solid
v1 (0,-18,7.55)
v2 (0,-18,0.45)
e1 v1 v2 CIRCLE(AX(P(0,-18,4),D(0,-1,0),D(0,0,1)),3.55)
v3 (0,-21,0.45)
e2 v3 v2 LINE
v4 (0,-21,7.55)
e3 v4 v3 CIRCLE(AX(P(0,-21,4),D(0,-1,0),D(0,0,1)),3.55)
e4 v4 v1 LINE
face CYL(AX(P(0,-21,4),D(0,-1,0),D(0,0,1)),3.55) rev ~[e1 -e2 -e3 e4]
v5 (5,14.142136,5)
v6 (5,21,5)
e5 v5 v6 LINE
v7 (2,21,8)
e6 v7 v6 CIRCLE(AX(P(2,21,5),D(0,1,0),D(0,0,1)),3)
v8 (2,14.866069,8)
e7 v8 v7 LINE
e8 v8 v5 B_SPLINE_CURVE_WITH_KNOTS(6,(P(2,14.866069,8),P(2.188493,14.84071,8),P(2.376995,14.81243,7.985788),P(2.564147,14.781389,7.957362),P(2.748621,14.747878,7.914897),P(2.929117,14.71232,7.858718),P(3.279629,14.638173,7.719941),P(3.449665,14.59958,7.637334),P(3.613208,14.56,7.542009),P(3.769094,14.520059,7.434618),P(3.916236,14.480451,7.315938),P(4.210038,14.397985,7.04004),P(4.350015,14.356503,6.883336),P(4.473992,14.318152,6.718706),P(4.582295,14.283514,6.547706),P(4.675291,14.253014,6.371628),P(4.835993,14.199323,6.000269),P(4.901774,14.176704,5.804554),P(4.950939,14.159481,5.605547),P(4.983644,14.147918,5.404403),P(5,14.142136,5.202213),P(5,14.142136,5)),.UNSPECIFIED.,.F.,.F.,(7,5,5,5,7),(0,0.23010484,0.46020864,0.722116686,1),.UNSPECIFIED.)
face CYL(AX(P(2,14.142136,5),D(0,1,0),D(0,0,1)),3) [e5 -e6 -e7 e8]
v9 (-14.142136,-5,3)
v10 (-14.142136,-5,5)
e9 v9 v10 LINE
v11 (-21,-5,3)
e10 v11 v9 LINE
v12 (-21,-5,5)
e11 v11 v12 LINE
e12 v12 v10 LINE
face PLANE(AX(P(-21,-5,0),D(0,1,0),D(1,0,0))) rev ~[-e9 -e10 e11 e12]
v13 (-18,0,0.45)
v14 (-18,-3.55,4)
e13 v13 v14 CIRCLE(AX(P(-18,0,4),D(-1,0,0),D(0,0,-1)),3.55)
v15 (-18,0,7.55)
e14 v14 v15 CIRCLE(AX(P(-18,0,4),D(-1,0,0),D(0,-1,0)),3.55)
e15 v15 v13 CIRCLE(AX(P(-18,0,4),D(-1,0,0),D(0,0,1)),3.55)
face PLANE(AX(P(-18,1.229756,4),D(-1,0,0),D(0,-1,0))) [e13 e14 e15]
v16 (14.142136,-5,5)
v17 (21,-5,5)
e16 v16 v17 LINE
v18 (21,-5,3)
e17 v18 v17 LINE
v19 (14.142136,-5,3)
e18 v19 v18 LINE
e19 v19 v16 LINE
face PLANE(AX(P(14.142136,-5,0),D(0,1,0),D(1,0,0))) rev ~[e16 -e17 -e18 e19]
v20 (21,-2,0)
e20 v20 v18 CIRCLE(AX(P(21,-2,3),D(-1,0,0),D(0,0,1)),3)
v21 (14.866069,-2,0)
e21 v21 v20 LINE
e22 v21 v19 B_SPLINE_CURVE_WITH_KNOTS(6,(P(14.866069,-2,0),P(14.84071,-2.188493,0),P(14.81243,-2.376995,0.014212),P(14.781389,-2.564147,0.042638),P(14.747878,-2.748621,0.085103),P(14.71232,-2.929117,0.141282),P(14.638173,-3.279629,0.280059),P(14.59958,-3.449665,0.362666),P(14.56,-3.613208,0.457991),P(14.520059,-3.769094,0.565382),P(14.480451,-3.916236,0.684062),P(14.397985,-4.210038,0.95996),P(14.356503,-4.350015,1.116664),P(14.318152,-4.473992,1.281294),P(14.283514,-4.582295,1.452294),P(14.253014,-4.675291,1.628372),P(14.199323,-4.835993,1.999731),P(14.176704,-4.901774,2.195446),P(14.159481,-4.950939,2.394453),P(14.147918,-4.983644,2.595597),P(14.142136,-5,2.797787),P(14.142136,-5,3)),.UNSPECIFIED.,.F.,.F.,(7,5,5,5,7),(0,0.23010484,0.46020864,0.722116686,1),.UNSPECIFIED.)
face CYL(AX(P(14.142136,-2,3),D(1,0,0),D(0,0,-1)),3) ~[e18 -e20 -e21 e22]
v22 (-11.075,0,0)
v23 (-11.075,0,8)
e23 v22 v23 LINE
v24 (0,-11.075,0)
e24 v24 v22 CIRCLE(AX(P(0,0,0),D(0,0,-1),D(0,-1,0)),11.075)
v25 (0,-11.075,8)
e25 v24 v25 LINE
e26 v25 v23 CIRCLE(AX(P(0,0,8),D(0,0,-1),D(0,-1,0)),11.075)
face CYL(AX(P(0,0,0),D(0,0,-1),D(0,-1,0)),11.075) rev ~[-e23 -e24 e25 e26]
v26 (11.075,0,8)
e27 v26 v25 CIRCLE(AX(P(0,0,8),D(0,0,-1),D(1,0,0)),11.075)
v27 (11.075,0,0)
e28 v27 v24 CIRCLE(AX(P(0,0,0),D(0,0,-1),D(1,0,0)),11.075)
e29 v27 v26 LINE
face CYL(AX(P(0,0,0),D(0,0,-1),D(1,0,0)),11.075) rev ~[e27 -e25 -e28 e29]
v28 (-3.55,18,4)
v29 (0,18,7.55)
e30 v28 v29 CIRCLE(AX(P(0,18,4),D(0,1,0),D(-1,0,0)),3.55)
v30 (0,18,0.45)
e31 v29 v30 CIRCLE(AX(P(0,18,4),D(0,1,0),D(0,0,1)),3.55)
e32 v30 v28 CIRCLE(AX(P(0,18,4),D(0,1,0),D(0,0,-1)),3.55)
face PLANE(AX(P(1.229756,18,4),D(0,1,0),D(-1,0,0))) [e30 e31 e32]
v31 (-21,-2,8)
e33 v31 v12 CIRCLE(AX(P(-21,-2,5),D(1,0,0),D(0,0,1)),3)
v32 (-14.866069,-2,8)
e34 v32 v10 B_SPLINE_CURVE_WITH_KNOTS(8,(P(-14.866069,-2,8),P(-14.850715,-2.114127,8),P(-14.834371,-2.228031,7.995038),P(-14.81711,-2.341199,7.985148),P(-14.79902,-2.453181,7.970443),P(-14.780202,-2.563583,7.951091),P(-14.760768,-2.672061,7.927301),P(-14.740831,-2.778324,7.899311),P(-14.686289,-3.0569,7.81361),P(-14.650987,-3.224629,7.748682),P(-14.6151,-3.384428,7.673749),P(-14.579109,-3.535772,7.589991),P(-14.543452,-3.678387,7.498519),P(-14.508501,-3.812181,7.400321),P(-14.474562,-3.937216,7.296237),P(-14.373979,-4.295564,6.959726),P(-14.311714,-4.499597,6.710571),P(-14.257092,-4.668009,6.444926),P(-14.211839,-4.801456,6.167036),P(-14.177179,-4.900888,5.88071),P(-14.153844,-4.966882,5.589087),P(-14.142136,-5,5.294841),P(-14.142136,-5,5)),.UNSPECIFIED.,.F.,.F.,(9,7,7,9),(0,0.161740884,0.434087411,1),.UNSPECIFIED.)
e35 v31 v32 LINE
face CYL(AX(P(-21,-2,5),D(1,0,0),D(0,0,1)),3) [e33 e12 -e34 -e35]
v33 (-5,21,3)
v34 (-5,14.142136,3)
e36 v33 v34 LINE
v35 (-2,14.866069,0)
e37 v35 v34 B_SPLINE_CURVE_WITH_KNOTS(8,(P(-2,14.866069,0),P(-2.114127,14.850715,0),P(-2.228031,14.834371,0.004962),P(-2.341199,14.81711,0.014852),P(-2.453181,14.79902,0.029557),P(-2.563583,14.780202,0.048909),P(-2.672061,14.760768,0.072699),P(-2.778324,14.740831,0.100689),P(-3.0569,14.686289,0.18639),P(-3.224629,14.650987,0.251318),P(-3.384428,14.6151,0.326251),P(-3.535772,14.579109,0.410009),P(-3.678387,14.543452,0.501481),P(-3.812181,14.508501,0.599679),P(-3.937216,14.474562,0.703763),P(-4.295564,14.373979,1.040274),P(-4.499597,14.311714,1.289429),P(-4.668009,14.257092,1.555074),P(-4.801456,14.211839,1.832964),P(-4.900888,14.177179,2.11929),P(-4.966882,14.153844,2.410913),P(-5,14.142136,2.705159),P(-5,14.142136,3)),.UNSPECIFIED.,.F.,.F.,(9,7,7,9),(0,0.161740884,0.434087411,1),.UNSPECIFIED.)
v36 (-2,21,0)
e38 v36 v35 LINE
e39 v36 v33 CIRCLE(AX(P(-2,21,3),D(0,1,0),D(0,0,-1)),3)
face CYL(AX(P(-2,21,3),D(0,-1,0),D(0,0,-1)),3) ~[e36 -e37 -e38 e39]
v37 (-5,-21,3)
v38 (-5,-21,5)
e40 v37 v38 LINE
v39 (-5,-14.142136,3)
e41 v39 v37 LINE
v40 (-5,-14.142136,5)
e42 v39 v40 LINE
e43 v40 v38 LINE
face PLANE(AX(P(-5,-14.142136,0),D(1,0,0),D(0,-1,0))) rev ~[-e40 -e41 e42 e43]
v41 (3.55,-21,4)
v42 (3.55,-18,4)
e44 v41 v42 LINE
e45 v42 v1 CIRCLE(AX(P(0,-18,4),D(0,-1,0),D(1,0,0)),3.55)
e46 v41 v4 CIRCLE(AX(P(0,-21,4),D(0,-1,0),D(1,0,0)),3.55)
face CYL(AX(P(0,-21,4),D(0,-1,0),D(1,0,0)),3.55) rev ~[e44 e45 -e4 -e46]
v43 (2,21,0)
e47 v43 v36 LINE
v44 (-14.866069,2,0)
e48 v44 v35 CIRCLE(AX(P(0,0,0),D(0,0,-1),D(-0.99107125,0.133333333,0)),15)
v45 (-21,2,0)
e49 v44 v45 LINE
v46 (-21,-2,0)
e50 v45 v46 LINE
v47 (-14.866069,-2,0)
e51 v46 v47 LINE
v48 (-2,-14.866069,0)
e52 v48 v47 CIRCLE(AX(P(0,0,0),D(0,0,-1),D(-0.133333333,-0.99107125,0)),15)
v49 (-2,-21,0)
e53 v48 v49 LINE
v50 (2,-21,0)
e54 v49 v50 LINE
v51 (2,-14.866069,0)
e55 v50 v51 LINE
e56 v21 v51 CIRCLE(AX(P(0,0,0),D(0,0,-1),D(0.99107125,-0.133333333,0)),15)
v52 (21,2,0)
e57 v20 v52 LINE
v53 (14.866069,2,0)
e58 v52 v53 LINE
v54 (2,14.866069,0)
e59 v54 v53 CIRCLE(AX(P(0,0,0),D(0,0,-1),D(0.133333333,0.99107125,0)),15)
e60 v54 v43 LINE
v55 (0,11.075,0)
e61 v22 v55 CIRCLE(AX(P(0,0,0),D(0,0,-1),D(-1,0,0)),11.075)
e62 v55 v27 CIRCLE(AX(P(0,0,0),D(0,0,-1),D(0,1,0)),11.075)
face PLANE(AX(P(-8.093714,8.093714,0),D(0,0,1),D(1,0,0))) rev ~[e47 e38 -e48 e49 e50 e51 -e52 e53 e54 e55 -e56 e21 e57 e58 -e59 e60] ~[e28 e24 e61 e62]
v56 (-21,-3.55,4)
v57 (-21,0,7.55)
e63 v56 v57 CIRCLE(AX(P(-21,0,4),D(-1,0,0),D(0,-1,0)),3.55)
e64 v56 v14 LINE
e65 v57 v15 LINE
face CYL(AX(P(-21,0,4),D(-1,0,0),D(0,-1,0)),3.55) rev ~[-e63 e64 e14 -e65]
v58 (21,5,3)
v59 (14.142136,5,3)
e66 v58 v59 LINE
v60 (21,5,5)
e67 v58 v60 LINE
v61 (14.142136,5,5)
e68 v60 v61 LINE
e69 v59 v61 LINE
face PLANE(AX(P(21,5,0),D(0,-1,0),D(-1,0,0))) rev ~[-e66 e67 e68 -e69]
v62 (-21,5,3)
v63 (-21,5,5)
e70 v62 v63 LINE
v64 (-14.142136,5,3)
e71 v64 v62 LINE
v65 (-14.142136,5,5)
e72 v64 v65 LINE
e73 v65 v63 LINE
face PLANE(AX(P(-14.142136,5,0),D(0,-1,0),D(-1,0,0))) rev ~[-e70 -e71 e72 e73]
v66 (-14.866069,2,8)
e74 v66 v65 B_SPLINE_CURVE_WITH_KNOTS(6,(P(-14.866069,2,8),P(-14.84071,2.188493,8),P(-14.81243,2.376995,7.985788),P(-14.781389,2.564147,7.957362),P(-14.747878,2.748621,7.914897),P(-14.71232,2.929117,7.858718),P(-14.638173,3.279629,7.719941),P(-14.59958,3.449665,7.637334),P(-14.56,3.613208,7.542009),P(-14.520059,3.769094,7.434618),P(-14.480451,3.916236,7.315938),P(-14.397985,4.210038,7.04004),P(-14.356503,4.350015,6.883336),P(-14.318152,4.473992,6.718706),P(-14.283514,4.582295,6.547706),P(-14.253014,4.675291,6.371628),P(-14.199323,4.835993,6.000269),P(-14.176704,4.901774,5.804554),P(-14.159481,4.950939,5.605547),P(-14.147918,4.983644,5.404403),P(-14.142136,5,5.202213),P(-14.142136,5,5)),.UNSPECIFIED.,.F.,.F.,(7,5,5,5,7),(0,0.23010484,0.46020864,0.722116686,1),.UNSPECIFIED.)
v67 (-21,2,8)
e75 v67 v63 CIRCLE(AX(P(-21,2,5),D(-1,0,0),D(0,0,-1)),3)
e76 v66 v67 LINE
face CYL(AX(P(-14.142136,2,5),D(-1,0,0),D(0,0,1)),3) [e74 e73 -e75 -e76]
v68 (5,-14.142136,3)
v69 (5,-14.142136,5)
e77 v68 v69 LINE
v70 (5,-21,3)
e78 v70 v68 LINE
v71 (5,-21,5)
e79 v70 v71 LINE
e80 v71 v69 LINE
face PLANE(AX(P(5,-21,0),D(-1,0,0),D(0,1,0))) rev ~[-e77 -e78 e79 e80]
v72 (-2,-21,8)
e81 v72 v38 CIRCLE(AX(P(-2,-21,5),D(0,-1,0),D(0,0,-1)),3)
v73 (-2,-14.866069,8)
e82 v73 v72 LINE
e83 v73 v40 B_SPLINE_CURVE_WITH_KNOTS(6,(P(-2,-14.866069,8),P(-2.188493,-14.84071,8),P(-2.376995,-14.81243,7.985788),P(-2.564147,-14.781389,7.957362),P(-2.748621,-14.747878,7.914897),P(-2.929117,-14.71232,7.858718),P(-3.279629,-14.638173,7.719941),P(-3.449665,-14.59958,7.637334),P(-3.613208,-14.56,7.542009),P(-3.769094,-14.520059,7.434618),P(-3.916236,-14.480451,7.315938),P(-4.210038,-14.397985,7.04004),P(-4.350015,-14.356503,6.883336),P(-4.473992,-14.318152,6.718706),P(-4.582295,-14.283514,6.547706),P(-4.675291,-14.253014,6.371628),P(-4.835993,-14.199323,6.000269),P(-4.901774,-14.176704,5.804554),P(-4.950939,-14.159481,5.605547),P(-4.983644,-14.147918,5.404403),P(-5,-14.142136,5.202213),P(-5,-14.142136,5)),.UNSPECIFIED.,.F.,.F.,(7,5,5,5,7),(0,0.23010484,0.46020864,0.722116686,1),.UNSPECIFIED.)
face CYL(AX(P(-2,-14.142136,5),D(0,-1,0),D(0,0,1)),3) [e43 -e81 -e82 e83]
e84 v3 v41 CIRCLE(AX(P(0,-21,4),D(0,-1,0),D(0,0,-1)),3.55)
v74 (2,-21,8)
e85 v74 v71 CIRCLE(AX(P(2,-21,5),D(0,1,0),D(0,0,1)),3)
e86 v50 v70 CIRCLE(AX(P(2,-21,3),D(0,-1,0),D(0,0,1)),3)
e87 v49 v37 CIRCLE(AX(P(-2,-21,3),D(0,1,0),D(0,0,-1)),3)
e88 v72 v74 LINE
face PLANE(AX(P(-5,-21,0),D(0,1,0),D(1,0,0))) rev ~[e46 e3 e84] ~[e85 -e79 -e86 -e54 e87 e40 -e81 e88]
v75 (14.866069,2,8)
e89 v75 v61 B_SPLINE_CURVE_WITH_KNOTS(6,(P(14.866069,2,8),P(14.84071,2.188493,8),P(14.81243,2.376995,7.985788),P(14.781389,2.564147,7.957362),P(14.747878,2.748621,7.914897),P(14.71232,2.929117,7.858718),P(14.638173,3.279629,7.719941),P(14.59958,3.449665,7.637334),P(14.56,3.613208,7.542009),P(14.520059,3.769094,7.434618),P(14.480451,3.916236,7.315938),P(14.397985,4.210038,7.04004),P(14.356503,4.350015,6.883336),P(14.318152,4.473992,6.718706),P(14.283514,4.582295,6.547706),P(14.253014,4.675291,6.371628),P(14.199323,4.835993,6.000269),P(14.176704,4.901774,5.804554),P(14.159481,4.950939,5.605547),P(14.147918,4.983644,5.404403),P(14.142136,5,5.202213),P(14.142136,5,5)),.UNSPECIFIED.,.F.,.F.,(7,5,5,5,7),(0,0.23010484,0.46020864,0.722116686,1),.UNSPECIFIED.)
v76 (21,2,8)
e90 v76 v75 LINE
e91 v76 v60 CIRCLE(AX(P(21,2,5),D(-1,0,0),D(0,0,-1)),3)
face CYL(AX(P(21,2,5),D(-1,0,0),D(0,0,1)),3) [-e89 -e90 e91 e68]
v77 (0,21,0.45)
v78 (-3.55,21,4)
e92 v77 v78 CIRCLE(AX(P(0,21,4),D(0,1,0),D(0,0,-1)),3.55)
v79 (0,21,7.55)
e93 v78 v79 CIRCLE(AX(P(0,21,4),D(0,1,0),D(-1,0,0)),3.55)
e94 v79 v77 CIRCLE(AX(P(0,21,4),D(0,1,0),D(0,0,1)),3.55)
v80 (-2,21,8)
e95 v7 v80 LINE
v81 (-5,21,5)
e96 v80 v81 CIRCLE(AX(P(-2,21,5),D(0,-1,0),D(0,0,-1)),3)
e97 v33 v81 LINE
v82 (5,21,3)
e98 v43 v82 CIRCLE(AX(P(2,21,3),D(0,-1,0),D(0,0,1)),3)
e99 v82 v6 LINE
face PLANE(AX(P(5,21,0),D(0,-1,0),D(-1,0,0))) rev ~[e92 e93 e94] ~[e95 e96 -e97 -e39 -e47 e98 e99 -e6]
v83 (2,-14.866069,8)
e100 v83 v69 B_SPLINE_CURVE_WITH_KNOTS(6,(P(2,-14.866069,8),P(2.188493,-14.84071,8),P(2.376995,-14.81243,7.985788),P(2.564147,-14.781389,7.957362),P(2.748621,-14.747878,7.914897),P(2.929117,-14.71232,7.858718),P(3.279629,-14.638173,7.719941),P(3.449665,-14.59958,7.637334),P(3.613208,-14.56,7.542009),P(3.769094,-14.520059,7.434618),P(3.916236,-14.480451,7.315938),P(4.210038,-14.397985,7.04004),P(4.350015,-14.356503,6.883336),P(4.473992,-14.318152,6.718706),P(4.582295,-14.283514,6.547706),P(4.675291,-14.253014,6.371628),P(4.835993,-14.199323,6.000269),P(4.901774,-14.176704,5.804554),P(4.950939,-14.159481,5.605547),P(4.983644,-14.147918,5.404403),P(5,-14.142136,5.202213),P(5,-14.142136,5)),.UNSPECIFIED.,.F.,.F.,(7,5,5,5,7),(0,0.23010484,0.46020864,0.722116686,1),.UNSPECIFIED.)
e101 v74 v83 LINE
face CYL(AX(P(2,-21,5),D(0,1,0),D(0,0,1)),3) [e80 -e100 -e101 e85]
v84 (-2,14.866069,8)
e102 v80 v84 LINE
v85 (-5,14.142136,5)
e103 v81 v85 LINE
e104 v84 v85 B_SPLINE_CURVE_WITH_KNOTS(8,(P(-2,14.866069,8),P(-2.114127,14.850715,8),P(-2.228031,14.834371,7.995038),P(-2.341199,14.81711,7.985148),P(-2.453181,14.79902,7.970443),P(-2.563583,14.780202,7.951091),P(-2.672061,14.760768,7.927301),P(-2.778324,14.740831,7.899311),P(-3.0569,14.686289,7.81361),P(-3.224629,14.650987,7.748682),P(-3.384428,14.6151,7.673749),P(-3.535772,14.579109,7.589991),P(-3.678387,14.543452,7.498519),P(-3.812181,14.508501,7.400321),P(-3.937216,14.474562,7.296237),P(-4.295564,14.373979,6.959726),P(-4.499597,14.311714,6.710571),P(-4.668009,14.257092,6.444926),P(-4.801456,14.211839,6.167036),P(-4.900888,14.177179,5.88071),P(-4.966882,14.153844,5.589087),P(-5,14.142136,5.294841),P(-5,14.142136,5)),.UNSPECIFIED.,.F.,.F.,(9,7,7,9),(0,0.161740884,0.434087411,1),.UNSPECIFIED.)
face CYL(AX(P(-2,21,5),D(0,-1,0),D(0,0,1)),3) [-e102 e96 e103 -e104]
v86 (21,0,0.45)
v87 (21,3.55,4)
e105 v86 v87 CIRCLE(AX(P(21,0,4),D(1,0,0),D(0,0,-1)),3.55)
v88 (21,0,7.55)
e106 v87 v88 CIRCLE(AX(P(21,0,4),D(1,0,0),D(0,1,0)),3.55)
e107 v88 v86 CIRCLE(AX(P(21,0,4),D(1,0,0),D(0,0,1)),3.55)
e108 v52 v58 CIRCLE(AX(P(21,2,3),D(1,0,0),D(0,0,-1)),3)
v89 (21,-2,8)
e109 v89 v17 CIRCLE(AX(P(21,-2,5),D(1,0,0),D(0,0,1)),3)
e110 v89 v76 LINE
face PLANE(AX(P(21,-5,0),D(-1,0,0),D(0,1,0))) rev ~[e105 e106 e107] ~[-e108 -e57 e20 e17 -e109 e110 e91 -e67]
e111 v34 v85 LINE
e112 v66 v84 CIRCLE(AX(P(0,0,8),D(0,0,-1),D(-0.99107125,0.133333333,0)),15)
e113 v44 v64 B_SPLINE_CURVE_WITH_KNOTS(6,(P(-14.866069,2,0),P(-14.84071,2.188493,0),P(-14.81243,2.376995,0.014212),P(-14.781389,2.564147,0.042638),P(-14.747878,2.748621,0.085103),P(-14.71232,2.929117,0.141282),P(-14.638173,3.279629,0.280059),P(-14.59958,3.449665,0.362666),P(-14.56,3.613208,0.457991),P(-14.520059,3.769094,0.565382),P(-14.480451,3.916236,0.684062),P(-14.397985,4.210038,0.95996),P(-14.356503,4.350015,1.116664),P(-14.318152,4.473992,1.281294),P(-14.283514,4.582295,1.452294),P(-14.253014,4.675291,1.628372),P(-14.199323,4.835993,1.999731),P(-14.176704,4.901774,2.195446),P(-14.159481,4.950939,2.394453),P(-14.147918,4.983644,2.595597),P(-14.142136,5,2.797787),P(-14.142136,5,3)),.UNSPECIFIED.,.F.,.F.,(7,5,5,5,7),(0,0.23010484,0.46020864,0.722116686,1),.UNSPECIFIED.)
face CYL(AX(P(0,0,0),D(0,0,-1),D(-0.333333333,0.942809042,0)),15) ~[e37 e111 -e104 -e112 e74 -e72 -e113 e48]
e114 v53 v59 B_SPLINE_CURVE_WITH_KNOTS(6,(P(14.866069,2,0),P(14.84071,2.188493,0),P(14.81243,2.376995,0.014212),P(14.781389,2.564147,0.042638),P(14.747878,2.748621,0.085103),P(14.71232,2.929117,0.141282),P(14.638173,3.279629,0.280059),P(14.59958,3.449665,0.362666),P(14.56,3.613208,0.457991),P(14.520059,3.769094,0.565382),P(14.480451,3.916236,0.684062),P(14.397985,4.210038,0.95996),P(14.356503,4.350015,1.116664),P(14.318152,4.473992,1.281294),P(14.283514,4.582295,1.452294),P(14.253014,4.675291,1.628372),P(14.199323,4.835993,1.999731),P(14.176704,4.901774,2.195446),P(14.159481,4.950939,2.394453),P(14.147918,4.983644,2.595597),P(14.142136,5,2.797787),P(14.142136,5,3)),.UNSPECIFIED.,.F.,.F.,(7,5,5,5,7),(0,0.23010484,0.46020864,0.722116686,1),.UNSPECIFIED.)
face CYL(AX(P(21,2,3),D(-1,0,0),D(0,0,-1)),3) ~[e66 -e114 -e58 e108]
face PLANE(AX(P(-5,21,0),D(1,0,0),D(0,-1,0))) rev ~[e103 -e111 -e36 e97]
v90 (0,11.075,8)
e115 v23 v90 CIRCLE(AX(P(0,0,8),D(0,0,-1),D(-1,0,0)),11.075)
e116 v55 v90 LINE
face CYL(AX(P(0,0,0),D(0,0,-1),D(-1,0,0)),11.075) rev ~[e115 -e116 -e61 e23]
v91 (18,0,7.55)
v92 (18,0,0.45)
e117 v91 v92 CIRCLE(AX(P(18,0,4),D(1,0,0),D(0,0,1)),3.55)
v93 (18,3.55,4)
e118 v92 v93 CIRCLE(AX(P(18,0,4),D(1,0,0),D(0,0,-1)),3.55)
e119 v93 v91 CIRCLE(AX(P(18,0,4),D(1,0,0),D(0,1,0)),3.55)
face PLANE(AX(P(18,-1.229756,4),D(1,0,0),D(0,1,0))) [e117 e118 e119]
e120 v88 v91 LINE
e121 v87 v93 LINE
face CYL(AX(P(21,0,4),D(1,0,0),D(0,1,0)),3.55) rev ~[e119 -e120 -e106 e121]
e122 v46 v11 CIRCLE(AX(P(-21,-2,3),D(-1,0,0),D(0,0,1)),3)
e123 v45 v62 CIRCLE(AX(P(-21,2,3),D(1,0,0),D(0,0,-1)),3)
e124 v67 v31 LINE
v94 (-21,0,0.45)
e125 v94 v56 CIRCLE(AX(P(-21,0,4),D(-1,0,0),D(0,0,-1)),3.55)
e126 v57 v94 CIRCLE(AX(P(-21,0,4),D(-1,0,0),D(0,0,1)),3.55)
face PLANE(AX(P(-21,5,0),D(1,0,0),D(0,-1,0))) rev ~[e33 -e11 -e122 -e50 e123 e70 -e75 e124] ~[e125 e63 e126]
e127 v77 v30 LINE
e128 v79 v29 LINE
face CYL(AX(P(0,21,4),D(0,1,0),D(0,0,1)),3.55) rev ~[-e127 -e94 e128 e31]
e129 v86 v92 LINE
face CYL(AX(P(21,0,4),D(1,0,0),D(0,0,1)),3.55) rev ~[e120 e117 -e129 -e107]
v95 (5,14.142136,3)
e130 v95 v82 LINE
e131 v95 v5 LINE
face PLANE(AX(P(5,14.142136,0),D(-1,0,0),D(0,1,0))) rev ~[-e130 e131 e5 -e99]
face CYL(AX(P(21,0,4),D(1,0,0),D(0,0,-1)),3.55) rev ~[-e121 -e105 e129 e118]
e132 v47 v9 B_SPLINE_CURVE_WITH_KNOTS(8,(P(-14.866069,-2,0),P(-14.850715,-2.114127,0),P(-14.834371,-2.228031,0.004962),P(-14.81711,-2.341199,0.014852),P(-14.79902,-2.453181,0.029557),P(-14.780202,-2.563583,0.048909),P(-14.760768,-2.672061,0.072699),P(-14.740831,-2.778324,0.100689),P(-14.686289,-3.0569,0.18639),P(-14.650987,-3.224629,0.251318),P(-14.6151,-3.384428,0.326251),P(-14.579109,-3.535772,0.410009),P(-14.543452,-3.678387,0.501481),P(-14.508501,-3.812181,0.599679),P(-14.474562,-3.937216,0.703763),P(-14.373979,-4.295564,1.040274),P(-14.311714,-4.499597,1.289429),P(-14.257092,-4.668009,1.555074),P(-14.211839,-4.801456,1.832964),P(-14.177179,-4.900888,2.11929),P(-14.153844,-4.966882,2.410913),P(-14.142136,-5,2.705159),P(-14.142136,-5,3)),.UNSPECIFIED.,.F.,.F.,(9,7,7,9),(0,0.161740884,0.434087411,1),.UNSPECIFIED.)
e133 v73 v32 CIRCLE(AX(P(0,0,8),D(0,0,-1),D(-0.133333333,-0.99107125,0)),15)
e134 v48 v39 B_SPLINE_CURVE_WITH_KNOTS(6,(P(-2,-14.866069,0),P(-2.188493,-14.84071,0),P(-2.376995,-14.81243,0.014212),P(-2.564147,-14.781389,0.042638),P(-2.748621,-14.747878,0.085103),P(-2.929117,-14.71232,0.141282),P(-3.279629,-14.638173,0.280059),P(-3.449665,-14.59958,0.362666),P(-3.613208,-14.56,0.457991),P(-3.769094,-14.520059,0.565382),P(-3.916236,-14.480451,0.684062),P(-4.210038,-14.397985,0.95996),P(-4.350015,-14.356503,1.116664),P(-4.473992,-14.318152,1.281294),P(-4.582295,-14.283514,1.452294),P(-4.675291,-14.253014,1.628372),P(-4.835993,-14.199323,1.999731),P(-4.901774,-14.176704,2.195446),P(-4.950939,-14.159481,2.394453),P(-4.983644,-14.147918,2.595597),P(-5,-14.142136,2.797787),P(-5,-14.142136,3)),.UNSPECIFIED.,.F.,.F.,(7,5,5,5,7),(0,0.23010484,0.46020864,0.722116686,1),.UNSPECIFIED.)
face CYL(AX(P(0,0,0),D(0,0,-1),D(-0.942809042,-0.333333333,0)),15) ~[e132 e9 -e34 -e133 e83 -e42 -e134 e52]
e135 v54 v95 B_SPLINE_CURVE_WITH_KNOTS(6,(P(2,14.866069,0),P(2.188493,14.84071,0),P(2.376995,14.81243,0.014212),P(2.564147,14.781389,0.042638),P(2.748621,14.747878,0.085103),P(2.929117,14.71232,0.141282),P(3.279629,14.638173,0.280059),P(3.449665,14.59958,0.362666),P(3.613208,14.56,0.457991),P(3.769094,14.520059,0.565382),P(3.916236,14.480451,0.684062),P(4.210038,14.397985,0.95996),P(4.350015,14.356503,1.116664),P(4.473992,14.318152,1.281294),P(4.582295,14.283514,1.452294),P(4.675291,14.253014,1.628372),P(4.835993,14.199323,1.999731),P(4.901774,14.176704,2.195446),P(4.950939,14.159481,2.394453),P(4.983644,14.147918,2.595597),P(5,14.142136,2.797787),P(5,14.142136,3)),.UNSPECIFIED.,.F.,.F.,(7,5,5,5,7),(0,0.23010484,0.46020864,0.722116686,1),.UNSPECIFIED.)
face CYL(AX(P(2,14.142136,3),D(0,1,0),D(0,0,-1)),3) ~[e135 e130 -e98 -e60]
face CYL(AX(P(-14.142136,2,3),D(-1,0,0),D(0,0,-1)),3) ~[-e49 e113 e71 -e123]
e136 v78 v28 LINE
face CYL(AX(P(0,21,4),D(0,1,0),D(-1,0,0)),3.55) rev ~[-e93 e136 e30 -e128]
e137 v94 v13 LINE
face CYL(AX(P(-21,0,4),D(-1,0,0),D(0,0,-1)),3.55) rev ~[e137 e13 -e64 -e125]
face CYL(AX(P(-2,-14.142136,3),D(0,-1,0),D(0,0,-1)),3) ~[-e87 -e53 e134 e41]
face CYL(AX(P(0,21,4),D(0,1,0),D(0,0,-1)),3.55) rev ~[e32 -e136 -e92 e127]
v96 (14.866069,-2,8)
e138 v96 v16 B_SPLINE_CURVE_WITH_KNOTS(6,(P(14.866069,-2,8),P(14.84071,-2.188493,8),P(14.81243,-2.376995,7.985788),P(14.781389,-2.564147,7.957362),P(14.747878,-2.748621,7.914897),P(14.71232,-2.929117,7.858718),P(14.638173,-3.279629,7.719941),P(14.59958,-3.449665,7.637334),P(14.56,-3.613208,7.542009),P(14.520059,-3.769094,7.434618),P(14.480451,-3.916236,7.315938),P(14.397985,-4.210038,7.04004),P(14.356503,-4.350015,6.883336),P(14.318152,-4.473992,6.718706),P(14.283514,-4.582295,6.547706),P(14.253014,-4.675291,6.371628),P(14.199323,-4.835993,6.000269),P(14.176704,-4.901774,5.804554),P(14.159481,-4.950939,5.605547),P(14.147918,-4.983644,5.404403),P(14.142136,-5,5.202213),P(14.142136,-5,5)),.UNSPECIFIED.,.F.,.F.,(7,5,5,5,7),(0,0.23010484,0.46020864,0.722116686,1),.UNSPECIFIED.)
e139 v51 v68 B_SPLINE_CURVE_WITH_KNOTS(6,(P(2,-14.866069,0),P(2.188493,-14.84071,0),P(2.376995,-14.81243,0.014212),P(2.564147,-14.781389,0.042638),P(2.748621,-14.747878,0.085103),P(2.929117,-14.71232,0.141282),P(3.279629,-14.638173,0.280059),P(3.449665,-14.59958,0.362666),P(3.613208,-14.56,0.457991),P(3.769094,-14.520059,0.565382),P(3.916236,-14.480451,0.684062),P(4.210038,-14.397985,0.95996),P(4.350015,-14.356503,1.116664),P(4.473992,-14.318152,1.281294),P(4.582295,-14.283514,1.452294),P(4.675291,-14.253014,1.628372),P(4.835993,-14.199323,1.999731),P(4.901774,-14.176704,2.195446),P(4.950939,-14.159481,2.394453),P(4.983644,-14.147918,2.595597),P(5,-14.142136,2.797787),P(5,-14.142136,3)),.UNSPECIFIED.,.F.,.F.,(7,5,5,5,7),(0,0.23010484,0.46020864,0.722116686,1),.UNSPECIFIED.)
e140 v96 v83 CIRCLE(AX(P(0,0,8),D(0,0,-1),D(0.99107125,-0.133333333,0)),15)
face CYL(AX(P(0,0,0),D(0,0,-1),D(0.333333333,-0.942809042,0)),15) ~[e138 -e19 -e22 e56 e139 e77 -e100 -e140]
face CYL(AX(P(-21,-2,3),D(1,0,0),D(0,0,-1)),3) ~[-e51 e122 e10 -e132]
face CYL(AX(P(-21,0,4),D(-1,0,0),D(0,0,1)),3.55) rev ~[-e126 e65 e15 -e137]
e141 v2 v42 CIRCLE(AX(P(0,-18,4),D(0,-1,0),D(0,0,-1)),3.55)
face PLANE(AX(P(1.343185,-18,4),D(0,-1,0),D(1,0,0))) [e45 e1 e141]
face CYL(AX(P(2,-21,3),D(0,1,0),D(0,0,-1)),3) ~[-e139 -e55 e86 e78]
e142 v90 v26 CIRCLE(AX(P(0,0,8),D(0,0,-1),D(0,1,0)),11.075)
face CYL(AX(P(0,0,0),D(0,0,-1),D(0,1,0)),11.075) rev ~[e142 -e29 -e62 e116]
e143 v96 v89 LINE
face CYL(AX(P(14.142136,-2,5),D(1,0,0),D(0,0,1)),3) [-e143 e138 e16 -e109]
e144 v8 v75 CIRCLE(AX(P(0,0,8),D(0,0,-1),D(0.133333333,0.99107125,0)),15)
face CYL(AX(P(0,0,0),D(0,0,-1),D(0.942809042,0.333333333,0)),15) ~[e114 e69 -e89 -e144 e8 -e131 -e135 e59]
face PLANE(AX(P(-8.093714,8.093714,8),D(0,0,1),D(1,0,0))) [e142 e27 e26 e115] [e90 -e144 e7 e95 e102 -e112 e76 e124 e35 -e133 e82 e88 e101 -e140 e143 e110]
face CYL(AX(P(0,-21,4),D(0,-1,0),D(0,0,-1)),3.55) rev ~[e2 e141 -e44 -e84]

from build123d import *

# Parameters (mm, degrees)
F1_DEPTH = 8
F6_DEPTH = 3
F7_DEPTH = 3
F8_DEPTH = 3
F9_DEPTH = 3
F10_R    = 3


with BuildPart() as f1:
    # F0 (on Top) → F1 (new body)
    with BuildSketch(Plane.XY):
        with BuildLine():
            ThreePointArc((-11.075, 0), (-7.8312076016, 7.8312076016), (0, 11.075))
            Line((0, 11.075), (0, 15))
            ThreePointArc((0, 15), (-2.5365296809, 14.7839783948), (-5, 14.1421356237))
            ThreePointArc((-5, 14.1421356237), (-10.6066017178, 10.6066017178), (-14.1421356237, 5))
            ThreePointArc((-14.1421356237, 5), (-14.7839783948, 2.5365296809), (-15, 0))
            Line((-15, 0), (-11.075, 0))
        make_face()
        with BuildLine():
            Line((0, -15), (0, -11.075))
            ThreePointArc((0, -11.075), (-7.8312076016, -7.8312076016), (-11.075, 0))
            Line((-11.075, 0), (-15, 0))
            ThreePointArc((-15, 0), (-14.7839783948, -2.5365296809), (-14.1421356237, -5))
            ThreePointArc((-14.1421356237, -5), (-10.6066017178, -10.6066017178), (-5, -14.1421356237))
            ThreePointArc((-5, -14.1421356237), (-2.5365296809, -14.7839783948), (0, -15))
        make_face()
        with BuildLine():
            ThreePointArc((-14.1421356237, -5), (-14.7839783948, -2.5365296809), (-15, 0))
            Line((-15, 0), (-21, 0))
            Line((-21, 0), (-21, -5))
            Line((-21, -5), (-14.1421356237, -5))
        make_face()
        with BuildLine():
            Line((-21, 0), (-15, 0))
            ThreePointArc((-15, 0), (-14.7839783948, 2.5365296809), (-14.1421356237, 5))
            Line((-14.1421356237, 5), (-21, 5))
            Line((-21, 5), (-21, 0))
        make_face()
        with BuildLine():
            ThreePointArc((-5, 14.1421356237), (-2.5365296809, 14.7839783948), (0, 15))
            Line((0, 15), (0, 21))
            Line((0, 21), (-5, 21))
            Line((-5, 21), (-5, 14.1421356237))
        make_face()
        with BuildLine():
            ThreePointArc((0, 11.075), (7.8312076016, 7.8312076016), (11.075, 0))
            Line((11.075, 0), (15, 0))
            ThreePointArc((15, 0), (14.7839783948, 2.5365296809), (14.1421356237, 5))
            ThreePointArc((14.1421356237, 5), (10.6066017178, 10.6066017178), (5, 14.1421356237))
            ThreePointArc((5, 14.1421356237), (2.5365296809, 14.7839783948), (0, 15))
            Line((0, 15), (0, 11.075))
        make_face()
        with BuildLine():
            Line((15, 0), (11.075, 0))
            ThreePointArc((11.075, 0), (7.8312076016, -7.8312076016), (0, -11.075))
            Line((0, -11.075), (0, -15))
            ThreePointArc((0, -15), (2.5365296809, -14.7839783948), (5, -14.1421356237))
            ThreePointArc((5, -14.1421356237), (10.6066017178, -10.6066017178), (14.1421356237, -5))
            ThreePointArc((14.1421356237, -5), (14.7839783948, -2.5365296809), (15, 0))
        make_face()
        with BuildLine():
            ThreePointArc((5, -14.1421356237), (2.5365296809, -14.7839783948), (0, -15))
            Line((0, -15), (0, -21))
            Line((0, -21), (5, -21))
            Line((5, -21), (5, -14.1421356237))
        make_face()
        with BuildLine():
            Line((0, -21), (0, -15))
            ThreePointArc((0, -15), (-2.5365296809, -14.7839783948), (-5, -14.1421356237))
            Line((-5, -14.1421356237), (-5, -21))
            Line((-5, -21), (0, -21))
        make_face()
        with BuildLine():
            Line((21, 0), (15, 0))
            ThreePointArc((15, 0), (14.7839783948, -2.5365296809), (14.1421356237, -5))
            Line((14.1421356237, -5), (21, -5))
            Line((21, -5), (21, 0))
        make_face()
        with BuildLine():
            ThreePointArc((14.1421356237, 5), (14.7839783948, 2.5365296809), (15, 0))
            Line((15, 0), (21, 0))
            Line((21, 0), (21, 5))
            Line((21, 5), (14.1421356237, 5))
        make_face()
        with BuildLine():
            Line((0, 21), (0, 15))
            ThreePointArc((0, 15), (2.5365296809, 14.7839783948), (5, 14.1421356237))
            Line((5, 14.1421356237), (5, 21))
            Line((5, 21), (0, 21))
        make_face()
    extrude(amount=F1_DEPTH)

    # F5 (on face) → F6 (cut)
    with BuildSketch(Plane.XZ.offset(21)):
        with BuildLine():
            Line((0, 7.55), (0, 0.45))
            ThreePointArc((0, 0.45), (2.5102290732, 1.4897709268), (3.55, 4))
            ThreePointArc((3.55, 4), (2.5102290732, 6.5102290732), (0, 7.55))
        make_face()
        with BuildLine():
            ThreePointArc((0, 7.55), (-3.55, 4), (0, 0.45))
            Line((0, 0.45), (0, 7.55))
        make_face()
    extrude(amount=-F6_DEPTH, mode=Mode.SUBTRACT)

    # F2 (on face) → F7 (cut)
    with BuildSketch(Plane(origin=(-21, 0, 0), x_dir=(0, -1, 0), z_dir=(-1, 0, 0))):
        with BuildLine():
            ThreePointArc((0, 7.55), (-3.55, 4), (0, 0.45))
            Line((0, 0.45), (0, 7.55))
        make_face()
        with BuildLine():
            Line((0, 7.55), (0, 0.45))
            ThreePointArc((0, 0.45), (2.5102290732, 1.4897709268), (3.55, 4))
            ThreePointArc((3.55, 4), (2.5102290732, 6.5102290732), (0, 7.55))
        make_face()
    extrude(amount=-F7_DEPTH, mode=Mode.SUBTRACT)

    # F3 (on face) → F8 (cut)
    with BuildSketch(Plane(origin=(0, 21, 0), x_dir=(-1, 0, 0), z_dir=(0, 1, 0))):
        with BuildLine():
            ThreePointArc((0, 7.55), (-3.55, 4), (0, 0.45))
            Line((0, 0.45), (0, 7.55))
        make_face()
        with BuildLine():
            Line((0, 7.55), (0, 0.45))
            ThreePointArc((0, 0.45), (2.5102290732, 1.4897709268), (3.55, 4))
            ThreePointArc((3.55, 4), (2.5102290732, 6.5102290732), (0, 7.55))
        make_face()
    extrude(amount=-F8_DEPTH, mode=Mode.SUBTRACT)

    # F4 (on face) → F9 (cut)
    with BuildSketch(Plane.YZ.offset(21)):
        with BuildLine():
            ThreePointArc((0, 7.55), (-3.55, 4), (0, 0.45))
            Line((0, 0.45), (0, 7.55))
        make_face()
        with BuildLine():
            Line((0, 7.55), (0, 0.45))
            ThreePointArc((0, 0.45), (2.5102290732, 1.4897709268), (3.55, 4))
            ThreePointArc((3.55, 4), (2.5102290732, 6.5102290732), (0, 7.55))
        make_face()
    extrude(amount=-F9_DEPTH, mode=Mode.SUBTRACT)

    # F10
    f10_edges = [f1.edges().sort_by_distance(p)[0] for p in [
        (-5, -17.571068, 0),
        (-5, -17.571068, 8),
        (5, -17.571068, 8),
        (5, -17.571068, 0),
        (-17.571068, 5, 8),
        (-17.571068, 5, 0),
        (-17.571068, -5, 8),
        (-17.571068, -5, 0),
        (5, 17.571068, 8),
        (5, 17.571068, 0),
        (17.571068, 5, 8),
        (17.571068, 5, 0),
        (17.571068, -5, 8),
        (17.571068, -5, 0),
        (-5, 17.571068, 8),
        (-5, 17.571068, 0),
    ]]
    fillet(f10_edges, radius=F10_R)


solid = f1.part
